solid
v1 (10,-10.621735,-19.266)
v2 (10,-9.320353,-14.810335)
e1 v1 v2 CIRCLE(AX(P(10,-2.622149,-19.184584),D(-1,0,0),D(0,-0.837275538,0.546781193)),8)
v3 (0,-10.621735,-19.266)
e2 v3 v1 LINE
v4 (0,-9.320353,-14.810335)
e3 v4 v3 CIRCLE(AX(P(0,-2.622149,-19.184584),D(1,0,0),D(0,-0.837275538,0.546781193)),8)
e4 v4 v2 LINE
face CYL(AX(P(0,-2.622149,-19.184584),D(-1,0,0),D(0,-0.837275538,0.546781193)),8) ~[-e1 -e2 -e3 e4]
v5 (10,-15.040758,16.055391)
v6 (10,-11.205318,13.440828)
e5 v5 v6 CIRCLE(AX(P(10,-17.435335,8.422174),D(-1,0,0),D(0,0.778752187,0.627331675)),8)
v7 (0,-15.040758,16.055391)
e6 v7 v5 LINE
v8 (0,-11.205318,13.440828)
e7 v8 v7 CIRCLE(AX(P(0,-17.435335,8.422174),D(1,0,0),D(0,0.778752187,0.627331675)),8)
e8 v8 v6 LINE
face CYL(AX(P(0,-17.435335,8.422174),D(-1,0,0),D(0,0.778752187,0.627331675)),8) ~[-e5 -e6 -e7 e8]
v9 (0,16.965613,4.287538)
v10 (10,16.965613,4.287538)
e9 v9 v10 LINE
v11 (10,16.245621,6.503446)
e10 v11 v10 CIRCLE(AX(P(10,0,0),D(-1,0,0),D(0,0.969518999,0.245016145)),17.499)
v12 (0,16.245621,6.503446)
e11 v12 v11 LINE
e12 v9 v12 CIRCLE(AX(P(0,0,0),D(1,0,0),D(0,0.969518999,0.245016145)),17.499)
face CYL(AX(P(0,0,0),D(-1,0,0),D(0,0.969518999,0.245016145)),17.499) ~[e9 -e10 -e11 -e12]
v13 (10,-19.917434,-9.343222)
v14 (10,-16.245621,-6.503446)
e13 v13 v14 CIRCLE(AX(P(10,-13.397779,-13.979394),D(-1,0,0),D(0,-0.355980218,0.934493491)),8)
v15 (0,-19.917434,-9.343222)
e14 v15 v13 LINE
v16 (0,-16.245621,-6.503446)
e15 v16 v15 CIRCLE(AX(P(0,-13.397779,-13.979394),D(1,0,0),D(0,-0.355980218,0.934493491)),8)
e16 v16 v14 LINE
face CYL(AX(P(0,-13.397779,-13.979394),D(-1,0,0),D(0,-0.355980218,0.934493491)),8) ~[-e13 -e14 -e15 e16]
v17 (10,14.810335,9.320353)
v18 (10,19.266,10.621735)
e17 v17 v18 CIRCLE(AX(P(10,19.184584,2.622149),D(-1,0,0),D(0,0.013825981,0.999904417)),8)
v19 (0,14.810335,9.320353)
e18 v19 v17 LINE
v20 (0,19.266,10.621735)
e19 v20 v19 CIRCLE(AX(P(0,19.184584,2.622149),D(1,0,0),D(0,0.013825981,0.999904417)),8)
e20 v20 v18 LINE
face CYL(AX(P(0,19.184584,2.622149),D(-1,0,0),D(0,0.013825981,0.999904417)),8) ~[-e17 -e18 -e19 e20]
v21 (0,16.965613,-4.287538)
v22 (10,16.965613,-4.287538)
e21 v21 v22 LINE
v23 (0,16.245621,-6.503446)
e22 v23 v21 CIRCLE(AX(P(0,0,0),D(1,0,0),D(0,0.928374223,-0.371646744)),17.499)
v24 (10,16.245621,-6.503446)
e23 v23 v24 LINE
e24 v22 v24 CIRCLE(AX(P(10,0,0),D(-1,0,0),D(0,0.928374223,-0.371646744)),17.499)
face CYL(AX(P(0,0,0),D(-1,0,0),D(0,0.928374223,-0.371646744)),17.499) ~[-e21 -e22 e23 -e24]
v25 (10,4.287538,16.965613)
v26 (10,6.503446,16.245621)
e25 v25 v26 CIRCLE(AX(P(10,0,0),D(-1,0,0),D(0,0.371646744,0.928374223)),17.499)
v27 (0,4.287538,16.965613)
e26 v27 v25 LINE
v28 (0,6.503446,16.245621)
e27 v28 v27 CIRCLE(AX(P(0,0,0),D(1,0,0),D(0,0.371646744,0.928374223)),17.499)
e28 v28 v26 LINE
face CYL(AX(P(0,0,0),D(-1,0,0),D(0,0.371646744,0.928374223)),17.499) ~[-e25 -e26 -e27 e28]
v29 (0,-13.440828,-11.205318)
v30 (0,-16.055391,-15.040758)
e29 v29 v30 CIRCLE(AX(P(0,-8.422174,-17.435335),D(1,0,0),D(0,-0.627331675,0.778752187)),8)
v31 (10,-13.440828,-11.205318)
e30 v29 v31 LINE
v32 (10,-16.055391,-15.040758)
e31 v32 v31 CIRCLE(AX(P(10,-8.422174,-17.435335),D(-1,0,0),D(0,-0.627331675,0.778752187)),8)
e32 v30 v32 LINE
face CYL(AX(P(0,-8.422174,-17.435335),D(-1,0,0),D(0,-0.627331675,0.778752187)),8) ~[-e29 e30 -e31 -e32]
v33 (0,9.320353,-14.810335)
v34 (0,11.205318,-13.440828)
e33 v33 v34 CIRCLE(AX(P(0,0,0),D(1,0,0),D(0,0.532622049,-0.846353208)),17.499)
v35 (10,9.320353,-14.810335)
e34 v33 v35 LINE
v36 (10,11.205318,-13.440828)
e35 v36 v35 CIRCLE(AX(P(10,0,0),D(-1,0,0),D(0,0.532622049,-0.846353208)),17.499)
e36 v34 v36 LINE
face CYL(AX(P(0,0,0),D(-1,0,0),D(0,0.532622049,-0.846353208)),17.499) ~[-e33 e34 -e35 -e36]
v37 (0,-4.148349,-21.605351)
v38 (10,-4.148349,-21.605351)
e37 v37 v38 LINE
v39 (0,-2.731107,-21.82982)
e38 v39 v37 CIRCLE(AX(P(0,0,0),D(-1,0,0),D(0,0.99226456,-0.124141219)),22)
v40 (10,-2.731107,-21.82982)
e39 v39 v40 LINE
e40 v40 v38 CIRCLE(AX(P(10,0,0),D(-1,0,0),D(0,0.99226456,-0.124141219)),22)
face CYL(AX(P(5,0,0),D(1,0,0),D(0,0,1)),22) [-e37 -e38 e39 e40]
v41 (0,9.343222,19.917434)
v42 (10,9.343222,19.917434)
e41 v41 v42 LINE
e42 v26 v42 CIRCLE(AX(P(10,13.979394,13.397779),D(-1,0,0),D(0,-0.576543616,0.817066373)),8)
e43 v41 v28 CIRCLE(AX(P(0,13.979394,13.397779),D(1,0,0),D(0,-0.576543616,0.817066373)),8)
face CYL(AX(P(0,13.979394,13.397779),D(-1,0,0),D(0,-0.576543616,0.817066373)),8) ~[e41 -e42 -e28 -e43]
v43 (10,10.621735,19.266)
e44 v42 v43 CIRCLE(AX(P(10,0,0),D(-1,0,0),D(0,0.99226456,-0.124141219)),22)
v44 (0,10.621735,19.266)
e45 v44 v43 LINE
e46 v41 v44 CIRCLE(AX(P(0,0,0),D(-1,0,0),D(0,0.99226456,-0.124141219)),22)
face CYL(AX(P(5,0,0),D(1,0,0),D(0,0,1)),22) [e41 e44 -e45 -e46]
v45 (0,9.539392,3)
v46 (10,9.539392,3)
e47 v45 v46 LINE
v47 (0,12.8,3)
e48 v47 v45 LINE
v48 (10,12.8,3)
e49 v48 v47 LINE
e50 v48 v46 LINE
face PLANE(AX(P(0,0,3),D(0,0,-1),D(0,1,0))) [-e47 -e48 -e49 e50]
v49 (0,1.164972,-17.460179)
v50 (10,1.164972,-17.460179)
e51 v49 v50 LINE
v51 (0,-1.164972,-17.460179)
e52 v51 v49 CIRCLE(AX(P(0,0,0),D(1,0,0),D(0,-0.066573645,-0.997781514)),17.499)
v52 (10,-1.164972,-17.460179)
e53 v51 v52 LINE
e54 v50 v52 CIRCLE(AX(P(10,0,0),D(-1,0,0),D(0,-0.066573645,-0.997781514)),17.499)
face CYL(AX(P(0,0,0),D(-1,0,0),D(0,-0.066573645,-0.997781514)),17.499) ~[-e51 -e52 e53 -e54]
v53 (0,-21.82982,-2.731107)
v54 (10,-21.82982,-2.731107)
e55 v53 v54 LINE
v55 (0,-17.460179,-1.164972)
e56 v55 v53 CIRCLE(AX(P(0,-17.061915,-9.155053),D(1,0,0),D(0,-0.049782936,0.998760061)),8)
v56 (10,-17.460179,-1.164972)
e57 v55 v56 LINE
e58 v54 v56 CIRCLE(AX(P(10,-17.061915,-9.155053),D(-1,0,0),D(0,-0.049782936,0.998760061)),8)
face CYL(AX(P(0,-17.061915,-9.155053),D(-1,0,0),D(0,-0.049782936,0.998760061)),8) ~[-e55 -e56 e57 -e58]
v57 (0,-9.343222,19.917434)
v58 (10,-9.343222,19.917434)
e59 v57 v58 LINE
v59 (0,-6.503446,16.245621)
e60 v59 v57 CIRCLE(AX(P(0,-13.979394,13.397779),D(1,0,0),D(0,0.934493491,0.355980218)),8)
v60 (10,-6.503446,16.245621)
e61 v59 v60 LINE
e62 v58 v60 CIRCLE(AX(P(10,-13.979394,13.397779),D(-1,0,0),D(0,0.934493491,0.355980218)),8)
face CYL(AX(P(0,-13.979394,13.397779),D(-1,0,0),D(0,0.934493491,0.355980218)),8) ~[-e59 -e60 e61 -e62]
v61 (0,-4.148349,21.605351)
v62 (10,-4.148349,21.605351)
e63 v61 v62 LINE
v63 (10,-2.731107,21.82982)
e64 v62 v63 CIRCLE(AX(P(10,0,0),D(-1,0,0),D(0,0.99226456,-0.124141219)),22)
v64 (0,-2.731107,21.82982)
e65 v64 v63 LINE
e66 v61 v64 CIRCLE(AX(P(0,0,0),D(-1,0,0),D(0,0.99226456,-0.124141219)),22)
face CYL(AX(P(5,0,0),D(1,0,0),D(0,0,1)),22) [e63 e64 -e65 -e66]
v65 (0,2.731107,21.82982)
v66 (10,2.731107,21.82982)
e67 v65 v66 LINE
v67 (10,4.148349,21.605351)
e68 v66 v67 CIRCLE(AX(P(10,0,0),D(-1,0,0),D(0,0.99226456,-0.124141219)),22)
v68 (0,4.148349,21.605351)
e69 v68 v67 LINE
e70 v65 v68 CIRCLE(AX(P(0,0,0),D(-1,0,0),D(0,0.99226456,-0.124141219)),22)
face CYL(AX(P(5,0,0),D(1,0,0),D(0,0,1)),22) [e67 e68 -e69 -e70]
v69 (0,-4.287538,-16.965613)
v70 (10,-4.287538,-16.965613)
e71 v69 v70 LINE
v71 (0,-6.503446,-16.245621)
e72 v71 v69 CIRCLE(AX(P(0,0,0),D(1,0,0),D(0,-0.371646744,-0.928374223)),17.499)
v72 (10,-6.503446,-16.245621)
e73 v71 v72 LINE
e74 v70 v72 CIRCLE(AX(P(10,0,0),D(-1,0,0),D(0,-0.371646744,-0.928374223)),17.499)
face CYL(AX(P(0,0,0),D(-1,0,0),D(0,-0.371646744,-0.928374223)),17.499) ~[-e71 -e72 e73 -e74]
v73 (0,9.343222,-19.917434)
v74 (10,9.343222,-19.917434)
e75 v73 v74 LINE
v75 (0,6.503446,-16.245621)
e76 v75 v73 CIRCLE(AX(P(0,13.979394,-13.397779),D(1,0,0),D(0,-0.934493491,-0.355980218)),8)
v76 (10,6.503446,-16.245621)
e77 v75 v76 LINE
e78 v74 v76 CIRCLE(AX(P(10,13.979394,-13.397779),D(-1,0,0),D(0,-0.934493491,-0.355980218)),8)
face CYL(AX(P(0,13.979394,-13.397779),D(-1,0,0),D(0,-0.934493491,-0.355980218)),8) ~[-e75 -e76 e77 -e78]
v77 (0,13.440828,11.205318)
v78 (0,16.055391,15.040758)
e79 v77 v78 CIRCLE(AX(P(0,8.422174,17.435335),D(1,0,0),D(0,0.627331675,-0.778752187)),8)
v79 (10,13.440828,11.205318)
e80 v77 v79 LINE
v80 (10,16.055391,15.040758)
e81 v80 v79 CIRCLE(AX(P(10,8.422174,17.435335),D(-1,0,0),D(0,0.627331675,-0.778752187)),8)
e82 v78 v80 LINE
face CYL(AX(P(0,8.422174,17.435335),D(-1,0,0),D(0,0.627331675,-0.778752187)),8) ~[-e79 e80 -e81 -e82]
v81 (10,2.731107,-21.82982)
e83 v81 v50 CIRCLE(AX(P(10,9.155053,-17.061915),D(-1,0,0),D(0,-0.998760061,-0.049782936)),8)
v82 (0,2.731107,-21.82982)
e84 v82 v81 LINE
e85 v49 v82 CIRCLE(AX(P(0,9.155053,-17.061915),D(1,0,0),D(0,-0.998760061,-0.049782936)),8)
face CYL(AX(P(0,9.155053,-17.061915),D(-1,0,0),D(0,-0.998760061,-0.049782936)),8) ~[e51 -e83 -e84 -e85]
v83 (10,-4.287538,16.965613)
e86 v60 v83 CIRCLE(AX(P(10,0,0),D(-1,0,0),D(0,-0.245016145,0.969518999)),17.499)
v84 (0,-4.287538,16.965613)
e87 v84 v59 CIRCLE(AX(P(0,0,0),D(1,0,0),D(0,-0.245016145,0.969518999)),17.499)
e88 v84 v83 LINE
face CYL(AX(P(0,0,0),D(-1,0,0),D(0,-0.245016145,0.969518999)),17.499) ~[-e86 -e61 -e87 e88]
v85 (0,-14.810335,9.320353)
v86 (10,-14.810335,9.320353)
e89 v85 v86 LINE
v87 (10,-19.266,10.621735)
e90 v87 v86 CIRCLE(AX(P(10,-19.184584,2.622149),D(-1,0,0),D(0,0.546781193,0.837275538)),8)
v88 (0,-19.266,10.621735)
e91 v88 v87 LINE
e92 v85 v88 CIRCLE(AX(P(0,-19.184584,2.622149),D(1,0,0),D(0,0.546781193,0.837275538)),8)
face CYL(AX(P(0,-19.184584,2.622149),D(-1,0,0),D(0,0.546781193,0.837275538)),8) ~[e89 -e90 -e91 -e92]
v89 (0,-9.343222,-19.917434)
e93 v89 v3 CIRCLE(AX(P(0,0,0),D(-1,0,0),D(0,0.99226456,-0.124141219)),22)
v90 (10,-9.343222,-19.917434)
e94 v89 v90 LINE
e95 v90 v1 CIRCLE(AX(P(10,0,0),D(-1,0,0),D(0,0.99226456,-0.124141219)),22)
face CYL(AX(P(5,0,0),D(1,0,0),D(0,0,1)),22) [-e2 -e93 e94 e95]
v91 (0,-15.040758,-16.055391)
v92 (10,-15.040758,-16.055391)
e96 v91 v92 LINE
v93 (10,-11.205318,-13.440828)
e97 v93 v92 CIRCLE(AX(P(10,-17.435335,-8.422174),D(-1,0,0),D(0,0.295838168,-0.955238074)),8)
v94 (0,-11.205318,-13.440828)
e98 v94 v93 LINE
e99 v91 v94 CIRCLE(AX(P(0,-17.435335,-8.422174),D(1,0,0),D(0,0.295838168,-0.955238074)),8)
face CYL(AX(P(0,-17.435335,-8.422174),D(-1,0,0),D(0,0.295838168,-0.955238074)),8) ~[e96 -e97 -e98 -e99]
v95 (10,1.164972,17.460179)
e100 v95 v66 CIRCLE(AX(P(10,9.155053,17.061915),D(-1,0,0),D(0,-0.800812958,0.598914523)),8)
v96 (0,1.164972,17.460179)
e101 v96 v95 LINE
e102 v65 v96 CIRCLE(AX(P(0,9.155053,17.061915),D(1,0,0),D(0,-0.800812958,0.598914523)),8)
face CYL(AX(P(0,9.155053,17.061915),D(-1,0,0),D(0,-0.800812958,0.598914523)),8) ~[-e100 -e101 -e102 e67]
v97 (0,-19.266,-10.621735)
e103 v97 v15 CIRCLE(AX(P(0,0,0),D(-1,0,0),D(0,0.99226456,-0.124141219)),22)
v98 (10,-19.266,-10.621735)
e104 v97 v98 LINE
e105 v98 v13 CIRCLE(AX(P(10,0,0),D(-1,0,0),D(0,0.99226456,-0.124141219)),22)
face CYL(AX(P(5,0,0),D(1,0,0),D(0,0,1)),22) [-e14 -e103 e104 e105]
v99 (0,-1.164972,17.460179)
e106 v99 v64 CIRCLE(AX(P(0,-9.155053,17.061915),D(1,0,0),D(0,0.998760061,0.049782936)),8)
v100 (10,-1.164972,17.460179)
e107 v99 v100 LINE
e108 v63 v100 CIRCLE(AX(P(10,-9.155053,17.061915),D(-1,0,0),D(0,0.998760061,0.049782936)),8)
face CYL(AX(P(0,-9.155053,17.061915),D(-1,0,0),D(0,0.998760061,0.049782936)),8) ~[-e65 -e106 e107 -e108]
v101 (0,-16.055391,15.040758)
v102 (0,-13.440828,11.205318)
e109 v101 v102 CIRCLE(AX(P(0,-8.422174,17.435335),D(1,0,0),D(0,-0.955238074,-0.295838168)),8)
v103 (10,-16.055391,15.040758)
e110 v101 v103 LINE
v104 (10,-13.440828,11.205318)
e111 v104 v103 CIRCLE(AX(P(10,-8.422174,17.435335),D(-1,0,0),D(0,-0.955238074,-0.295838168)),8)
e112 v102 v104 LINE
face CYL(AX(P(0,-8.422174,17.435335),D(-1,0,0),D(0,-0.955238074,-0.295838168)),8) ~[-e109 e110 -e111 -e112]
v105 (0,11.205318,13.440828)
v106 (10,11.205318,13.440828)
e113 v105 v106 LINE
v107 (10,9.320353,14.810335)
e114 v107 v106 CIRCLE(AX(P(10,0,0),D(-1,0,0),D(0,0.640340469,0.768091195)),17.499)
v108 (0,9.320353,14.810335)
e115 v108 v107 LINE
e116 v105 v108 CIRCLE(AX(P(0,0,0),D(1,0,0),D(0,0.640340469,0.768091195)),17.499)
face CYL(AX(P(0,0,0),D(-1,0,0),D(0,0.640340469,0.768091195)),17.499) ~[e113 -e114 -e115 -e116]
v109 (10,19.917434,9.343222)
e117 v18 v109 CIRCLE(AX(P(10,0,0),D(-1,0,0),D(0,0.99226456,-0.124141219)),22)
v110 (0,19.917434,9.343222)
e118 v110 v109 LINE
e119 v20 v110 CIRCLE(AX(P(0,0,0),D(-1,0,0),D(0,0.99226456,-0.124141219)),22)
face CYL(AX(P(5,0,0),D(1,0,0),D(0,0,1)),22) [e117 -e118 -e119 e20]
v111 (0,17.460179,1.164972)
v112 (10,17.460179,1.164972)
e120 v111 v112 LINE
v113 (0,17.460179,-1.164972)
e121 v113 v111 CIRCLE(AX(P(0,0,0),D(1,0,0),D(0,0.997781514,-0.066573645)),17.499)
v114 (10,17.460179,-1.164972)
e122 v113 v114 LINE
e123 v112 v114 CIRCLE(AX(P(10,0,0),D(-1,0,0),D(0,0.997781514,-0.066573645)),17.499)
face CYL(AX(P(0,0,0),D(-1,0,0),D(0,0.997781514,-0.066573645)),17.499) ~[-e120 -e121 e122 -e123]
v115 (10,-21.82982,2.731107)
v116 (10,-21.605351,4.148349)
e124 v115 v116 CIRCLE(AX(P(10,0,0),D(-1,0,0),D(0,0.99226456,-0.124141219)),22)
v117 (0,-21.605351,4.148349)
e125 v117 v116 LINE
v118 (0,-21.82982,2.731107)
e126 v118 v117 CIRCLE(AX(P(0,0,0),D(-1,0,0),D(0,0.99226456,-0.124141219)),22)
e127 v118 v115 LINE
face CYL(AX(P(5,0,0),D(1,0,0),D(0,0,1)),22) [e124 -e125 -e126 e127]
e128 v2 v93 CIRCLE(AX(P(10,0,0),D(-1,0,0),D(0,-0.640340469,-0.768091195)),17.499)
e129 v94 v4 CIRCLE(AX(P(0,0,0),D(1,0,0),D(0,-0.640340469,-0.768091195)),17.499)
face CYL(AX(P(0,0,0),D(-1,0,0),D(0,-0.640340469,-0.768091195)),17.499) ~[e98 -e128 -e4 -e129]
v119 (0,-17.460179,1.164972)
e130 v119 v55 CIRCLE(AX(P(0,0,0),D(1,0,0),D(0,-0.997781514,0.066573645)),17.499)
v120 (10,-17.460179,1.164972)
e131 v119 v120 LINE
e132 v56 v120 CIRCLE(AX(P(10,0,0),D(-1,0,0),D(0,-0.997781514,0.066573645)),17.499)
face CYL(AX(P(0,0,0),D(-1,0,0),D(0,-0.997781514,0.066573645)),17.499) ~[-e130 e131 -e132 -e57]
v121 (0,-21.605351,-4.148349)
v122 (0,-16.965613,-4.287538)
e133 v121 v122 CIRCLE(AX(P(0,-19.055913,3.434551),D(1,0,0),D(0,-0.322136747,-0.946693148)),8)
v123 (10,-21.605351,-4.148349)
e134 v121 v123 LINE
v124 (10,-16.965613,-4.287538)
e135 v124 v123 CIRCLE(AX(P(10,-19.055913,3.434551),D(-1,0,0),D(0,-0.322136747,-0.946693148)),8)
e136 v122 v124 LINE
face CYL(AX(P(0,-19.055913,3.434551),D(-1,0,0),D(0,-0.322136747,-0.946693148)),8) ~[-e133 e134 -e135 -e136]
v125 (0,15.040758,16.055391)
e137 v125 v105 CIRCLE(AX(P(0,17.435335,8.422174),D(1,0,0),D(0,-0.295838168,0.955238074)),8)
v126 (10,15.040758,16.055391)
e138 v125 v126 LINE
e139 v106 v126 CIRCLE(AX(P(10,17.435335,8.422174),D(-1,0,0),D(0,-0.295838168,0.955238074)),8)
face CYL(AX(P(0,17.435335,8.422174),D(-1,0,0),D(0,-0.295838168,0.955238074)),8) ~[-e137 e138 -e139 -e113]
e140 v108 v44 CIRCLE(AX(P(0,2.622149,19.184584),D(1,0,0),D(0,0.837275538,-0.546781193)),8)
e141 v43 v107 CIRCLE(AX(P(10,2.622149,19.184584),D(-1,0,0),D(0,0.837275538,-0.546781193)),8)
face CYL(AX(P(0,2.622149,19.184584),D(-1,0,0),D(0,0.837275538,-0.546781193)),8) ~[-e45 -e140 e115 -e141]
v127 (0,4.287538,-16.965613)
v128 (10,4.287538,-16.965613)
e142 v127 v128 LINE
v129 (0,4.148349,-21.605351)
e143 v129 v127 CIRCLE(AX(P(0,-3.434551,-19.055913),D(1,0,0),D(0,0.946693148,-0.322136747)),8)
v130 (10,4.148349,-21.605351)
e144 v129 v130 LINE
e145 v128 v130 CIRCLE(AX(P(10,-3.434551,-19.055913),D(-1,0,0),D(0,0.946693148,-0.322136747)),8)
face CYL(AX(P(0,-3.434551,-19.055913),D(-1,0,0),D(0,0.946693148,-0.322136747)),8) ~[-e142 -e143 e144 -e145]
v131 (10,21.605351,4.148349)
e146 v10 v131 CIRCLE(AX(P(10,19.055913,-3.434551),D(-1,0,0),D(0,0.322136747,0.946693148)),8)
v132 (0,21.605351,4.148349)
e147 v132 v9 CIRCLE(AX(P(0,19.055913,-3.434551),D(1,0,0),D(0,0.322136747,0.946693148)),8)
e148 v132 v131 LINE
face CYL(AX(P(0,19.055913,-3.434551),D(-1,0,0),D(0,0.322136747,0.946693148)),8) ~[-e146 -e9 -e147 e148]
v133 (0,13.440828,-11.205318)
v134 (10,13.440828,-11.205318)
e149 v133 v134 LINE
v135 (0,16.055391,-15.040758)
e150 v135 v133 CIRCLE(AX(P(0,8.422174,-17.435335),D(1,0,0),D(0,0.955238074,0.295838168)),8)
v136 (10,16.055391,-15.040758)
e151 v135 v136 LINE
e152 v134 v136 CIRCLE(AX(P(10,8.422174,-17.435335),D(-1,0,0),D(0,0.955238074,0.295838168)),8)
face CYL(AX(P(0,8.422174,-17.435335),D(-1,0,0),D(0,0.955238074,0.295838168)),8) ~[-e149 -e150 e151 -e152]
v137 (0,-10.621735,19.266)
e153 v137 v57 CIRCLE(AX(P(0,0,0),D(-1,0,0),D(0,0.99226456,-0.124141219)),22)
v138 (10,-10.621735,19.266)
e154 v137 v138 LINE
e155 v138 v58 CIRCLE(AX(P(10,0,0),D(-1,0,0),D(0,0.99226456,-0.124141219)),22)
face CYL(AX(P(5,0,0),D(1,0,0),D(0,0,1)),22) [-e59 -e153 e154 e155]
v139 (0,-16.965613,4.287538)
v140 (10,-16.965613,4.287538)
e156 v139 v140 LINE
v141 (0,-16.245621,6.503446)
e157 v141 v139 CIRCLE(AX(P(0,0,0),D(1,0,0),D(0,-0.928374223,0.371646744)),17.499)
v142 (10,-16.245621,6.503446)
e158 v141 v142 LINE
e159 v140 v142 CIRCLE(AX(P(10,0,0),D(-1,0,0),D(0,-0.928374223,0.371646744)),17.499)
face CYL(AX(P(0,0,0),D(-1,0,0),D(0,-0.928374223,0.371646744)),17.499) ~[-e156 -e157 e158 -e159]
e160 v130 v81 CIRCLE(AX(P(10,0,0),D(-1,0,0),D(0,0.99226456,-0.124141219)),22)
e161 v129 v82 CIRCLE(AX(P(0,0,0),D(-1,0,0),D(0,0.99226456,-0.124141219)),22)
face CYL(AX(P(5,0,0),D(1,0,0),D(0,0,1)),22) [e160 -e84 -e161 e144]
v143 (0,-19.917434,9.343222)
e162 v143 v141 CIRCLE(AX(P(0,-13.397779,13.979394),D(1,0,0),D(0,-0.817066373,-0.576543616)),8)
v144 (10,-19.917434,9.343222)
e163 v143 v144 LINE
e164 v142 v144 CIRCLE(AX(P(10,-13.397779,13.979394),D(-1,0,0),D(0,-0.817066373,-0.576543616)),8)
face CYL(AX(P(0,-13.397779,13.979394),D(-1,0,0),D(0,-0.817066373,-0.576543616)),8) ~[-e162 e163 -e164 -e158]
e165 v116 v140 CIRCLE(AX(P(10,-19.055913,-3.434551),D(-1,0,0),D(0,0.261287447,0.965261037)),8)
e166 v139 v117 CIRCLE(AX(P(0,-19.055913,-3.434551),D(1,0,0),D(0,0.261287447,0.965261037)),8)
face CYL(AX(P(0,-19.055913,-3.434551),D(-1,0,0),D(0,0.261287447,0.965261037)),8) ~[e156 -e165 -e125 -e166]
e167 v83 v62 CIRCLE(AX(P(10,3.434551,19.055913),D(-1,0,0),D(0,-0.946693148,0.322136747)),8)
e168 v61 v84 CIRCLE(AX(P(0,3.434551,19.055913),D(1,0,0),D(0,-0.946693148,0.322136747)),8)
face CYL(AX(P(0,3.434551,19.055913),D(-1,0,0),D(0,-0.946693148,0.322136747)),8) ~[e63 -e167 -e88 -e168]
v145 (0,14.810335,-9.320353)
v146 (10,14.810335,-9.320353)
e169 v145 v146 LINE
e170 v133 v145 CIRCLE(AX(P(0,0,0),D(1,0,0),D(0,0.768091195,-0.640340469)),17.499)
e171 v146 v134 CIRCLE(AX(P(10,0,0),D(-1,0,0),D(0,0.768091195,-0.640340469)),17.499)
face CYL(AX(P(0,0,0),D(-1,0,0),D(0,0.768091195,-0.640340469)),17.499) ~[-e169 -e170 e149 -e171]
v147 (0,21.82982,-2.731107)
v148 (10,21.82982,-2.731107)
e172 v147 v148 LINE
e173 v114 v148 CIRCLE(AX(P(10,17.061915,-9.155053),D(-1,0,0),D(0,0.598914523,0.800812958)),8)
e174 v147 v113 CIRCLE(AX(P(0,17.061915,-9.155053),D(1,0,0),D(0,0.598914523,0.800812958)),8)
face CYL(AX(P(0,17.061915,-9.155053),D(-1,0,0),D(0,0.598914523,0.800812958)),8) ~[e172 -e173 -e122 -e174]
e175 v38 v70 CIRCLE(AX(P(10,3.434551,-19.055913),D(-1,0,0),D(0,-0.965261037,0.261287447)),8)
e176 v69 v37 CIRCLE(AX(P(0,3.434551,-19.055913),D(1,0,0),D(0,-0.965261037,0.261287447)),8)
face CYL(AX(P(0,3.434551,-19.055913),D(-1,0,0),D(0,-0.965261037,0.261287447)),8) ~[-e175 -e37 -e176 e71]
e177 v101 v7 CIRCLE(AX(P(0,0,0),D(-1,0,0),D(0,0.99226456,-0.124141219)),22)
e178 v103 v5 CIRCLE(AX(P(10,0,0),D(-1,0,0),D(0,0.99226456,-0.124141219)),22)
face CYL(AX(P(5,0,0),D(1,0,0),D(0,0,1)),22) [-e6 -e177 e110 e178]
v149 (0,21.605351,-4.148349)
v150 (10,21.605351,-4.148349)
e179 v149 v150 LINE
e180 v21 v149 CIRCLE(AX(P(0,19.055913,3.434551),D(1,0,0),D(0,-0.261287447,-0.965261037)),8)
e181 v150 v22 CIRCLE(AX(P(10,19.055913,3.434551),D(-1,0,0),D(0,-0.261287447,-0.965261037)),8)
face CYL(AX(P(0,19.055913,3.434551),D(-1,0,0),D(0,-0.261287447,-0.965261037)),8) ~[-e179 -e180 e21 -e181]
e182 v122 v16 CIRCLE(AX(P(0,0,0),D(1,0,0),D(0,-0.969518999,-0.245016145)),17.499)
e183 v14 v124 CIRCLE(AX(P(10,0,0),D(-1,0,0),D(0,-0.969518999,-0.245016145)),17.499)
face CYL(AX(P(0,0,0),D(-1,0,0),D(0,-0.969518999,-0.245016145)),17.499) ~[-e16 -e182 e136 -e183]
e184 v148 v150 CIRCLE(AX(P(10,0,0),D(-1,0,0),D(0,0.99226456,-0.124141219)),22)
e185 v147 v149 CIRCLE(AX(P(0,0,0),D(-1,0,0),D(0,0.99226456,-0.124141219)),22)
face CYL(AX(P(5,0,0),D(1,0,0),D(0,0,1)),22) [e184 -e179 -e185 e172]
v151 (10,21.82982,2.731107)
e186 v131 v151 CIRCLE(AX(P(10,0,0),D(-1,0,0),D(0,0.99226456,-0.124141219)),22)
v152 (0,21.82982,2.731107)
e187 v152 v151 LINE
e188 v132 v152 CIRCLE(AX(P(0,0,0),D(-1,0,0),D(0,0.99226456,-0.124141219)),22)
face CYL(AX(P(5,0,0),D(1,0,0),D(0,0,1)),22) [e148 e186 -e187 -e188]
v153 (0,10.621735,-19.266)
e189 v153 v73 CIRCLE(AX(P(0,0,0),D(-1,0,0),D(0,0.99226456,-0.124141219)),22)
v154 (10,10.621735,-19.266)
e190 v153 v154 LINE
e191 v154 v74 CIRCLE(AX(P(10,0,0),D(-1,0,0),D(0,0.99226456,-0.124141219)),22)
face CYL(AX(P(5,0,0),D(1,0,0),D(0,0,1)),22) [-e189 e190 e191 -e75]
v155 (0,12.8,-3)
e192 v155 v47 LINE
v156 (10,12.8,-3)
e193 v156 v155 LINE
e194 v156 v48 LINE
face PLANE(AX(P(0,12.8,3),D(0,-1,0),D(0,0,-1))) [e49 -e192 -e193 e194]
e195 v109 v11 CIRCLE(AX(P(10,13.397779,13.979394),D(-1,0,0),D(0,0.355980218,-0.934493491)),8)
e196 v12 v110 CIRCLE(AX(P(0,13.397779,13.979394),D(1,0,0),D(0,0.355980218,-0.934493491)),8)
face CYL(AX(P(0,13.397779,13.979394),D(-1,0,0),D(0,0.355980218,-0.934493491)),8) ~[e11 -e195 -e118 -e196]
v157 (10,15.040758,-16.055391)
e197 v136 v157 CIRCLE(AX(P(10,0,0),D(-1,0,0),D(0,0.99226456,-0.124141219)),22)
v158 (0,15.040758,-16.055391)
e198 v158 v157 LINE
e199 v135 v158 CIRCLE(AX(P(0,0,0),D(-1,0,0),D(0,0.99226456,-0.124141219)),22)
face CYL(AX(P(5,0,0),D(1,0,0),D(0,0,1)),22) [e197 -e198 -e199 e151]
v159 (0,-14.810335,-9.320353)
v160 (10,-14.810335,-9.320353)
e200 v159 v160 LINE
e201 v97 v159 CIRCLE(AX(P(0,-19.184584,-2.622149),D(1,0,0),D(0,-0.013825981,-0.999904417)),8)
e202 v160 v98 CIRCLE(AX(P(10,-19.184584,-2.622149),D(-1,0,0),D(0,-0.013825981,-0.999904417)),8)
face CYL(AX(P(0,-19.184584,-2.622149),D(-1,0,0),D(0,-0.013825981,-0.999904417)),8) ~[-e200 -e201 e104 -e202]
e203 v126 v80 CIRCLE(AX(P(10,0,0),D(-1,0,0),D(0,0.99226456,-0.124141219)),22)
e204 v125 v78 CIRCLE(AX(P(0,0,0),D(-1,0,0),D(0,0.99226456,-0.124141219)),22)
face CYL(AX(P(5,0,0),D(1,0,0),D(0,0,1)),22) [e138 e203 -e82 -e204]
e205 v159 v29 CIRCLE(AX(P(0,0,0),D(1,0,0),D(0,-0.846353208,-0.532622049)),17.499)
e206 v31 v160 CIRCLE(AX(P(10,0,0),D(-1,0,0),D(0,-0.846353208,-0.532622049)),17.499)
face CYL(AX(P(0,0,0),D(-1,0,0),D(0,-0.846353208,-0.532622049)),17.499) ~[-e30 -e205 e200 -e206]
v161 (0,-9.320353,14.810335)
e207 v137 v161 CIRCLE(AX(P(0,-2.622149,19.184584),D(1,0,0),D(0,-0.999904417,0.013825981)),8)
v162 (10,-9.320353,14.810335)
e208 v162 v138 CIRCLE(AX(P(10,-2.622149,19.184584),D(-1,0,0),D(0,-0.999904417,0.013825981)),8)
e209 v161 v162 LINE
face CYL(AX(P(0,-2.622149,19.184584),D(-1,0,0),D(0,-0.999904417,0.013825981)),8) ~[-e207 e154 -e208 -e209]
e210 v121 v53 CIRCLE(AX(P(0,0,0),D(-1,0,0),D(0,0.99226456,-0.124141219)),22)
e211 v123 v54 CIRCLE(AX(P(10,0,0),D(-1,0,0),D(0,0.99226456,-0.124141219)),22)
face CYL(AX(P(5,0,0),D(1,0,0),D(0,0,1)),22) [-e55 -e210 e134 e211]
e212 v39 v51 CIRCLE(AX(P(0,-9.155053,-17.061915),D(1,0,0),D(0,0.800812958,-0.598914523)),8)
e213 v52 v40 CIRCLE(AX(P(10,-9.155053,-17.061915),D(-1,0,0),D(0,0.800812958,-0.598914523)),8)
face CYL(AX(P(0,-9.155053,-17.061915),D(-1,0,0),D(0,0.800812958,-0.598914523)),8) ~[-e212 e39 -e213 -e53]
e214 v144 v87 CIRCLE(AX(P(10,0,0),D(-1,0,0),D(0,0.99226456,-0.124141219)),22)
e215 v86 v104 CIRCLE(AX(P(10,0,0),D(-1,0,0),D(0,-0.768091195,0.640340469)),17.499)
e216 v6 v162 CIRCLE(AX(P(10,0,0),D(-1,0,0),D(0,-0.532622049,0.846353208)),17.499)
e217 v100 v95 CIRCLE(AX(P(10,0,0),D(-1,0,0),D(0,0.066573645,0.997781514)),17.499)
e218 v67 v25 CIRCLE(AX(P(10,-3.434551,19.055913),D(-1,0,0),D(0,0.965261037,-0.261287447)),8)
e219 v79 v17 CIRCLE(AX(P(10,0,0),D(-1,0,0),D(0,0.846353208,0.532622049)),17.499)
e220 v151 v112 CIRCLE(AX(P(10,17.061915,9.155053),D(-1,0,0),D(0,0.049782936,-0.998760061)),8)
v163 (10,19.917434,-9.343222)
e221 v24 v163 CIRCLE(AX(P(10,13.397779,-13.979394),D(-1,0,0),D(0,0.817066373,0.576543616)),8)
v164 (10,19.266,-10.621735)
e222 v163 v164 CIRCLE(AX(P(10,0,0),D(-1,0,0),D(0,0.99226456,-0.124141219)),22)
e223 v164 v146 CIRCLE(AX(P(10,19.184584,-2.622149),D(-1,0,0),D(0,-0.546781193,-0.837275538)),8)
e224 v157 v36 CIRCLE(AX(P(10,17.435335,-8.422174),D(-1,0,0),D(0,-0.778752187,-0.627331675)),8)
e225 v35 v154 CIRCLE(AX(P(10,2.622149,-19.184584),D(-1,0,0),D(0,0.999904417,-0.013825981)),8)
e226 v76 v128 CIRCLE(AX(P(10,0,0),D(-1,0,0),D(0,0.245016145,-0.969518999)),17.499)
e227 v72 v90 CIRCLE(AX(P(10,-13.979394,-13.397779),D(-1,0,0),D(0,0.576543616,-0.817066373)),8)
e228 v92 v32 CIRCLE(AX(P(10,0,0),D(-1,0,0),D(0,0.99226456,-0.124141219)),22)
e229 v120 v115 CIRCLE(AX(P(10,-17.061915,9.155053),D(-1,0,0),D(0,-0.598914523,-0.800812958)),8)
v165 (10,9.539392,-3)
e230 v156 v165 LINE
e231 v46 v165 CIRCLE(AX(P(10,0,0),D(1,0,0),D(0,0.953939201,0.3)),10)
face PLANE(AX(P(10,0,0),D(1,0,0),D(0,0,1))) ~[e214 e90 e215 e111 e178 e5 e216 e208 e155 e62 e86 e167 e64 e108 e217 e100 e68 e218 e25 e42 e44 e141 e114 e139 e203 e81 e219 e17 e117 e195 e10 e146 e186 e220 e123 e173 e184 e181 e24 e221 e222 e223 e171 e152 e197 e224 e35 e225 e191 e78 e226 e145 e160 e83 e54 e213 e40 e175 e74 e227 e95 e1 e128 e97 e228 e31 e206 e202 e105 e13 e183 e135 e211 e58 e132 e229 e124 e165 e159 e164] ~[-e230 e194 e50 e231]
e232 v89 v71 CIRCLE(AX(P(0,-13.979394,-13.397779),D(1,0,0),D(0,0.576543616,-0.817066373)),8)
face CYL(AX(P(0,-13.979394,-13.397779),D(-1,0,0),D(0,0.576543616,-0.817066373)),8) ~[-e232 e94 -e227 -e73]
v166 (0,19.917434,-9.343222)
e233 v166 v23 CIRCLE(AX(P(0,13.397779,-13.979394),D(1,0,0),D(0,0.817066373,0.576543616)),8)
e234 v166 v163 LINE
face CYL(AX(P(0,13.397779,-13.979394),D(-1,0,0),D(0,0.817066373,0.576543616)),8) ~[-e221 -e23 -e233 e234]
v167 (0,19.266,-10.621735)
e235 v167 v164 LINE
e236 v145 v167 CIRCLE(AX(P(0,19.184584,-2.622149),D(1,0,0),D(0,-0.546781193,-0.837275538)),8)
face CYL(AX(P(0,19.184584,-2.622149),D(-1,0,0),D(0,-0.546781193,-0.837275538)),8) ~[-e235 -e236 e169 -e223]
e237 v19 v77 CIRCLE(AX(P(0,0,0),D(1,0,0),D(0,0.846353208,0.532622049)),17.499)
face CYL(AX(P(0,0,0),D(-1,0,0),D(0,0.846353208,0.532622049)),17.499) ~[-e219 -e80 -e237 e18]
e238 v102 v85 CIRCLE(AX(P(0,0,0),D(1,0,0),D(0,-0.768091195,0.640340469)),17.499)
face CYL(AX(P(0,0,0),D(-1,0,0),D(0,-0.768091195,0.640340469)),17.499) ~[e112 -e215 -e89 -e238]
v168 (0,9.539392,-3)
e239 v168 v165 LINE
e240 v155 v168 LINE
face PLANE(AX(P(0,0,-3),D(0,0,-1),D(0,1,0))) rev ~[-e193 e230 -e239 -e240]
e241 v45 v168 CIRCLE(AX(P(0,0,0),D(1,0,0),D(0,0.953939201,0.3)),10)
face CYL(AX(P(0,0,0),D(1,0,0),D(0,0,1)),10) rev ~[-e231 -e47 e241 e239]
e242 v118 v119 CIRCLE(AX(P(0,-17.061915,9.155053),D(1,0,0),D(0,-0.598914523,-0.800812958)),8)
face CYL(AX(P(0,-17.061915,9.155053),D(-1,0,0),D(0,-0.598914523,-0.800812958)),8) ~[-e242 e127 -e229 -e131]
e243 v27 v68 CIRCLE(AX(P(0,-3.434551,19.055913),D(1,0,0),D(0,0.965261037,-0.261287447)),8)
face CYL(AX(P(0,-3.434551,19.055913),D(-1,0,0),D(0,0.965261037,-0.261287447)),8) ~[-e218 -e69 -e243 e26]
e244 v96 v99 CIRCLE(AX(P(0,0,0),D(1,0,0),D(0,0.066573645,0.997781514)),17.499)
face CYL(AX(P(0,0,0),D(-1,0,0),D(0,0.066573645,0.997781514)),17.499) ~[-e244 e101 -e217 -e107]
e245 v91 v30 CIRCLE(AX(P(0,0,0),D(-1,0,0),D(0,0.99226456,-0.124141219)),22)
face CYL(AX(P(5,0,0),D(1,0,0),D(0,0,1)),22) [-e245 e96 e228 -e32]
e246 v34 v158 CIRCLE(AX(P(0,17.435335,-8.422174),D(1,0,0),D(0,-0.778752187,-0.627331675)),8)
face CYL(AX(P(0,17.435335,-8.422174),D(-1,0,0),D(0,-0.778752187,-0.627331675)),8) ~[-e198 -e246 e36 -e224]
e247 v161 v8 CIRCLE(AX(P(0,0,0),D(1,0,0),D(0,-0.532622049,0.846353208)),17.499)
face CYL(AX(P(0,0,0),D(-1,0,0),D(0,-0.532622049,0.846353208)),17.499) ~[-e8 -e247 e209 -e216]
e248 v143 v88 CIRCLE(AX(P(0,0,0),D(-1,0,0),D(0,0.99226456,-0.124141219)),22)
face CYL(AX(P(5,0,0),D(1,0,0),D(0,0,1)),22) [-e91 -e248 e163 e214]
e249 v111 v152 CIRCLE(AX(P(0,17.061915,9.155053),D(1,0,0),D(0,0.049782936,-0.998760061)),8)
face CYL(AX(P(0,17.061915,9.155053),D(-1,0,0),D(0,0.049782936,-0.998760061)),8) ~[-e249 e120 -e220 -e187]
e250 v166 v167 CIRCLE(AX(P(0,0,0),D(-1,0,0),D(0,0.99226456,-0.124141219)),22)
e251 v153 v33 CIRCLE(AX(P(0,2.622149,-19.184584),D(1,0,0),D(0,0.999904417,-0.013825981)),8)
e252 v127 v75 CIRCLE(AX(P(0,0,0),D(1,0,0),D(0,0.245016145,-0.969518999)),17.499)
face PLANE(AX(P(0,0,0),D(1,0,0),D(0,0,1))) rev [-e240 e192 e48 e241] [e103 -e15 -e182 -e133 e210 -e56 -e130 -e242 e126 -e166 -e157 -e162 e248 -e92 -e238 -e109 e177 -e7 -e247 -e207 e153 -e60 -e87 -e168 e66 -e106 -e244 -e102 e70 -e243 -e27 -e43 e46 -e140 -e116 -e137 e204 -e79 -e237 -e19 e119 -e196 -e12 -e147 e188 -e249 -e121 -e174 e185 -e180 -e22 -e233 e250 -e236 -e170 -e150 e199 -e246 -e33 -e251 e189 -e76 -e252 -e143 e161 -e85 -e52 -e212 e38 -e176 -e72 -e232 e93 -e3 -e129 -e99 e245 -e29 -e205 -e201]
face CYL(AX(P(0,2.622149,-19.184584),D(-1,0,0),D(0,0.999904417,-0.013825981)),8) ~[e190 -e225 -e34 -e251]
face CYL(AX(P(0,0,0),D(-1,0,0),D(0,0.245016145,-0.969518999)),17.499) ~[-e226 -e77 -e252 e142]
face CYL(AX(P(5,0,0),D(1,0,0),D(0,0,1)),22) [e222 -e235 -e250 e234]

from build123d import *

# Parameters (mm, degrees)
BASPROSKE_W     = 10
BASPROSKE_H     = 22
TOOTHCUT_DEPTH  = 33.680269277
TEETHCUTS_COUNT = 20
TEETHCUTS_ANGLE = 342
BORSKE_R        = 10
BORE_DEPTH      = 50.0000508
KEYSKE_W        = 6
KEYSKE_H        = 12.8
KEYWAY_DEPTH    = 50.0000508


with BuildPart() as part:
    # BasProSke → Base-Revolve (revolve)
    with BuildSketch(Plane(origin=(0, 0, 0), x_dir=(1, 0, 0), z_dir=(0, 1, 0)), mode=Mode.PRIVATE) as base_revolve_sk:
        with Locations((5, 11)):
            Rectangle(BASPROSKE_W, BASPROSKE_H)
    revolve(base_revolve_sk.sketch.rotate(Axis((-10, 0, 0), (1, 0, 0)), 180), axis=Axis((-10, 0, 0), (1, 0, 0)))

    # TooCutSke → ToothCut (cut, through all)
    with BuildSketch(Plane(origin=(0, 0, 0), x_dir=(0, 0, -1), z_dir=(1, 0, 0))):
        with BuildLine():
            ThreePointArc((1.164972225, 17.460178714), (0, 17.499), (-1.164972225, 17.460178714))
            ThreePointArc((-1.164972225, 17.460178714), (-1.629088534, 19.774822006), (-2.748549048, 21.853231415))
            ThreePointArc((-2.748549048, 21.853231415), (0, 22.0254), (2.748549048, 21.853231415))
            ThreePointArc((2.748549048, 21.853231415), (1.629088534, 19.774822006), (1.164972225, 17.460178714))
        make_face()
    toothcut = extrude(amount=TOOTHCUT_DEPTH, mode=Mode.SUBTRACT)

    # TeethCuts: ToothCut ×20 about axis
    teethcuts_axis = Axis((-10, 0, 0), (1, 0, 0))
    for i in range(1, TEETHCUTS_COUNT):
        add(toothcut.rotate(teethcuts_axis, i * TEETHCUTS_ANGLE / (TEETHCUTS_COUNT - 1)), mode=Mode.SUBTRACT)

    # BorSke → Bore (cut, symmetric)
    with BuildSketch(Plane(origin=(0, 0, 0), x_dir=(0, 0, -1), z_dir=(1, 0, 0))):
        with Locations(Location((0, 0, 0), (0, 0, 180))):
            Circle(BORSKE_R)
    extrude(amount=BORE_DEPTH, both=True, mode=Mode.SUBTRACT)

    # KeySke → Keyway (cut, symmetric)
    with BuildSketch(Plane(origin=(0, 0, 0), x_dir=(0, 0, -1), z_dir=(1, 0, 0))):
        with Locations((0, 6.4)):
            Rectangle(KEYSKE_W, KEYSKE_H)
    extrude(amount=KEYWAY_DEPTH, both=True, mode=Mode.SUBTRACT)


solid = part.part
